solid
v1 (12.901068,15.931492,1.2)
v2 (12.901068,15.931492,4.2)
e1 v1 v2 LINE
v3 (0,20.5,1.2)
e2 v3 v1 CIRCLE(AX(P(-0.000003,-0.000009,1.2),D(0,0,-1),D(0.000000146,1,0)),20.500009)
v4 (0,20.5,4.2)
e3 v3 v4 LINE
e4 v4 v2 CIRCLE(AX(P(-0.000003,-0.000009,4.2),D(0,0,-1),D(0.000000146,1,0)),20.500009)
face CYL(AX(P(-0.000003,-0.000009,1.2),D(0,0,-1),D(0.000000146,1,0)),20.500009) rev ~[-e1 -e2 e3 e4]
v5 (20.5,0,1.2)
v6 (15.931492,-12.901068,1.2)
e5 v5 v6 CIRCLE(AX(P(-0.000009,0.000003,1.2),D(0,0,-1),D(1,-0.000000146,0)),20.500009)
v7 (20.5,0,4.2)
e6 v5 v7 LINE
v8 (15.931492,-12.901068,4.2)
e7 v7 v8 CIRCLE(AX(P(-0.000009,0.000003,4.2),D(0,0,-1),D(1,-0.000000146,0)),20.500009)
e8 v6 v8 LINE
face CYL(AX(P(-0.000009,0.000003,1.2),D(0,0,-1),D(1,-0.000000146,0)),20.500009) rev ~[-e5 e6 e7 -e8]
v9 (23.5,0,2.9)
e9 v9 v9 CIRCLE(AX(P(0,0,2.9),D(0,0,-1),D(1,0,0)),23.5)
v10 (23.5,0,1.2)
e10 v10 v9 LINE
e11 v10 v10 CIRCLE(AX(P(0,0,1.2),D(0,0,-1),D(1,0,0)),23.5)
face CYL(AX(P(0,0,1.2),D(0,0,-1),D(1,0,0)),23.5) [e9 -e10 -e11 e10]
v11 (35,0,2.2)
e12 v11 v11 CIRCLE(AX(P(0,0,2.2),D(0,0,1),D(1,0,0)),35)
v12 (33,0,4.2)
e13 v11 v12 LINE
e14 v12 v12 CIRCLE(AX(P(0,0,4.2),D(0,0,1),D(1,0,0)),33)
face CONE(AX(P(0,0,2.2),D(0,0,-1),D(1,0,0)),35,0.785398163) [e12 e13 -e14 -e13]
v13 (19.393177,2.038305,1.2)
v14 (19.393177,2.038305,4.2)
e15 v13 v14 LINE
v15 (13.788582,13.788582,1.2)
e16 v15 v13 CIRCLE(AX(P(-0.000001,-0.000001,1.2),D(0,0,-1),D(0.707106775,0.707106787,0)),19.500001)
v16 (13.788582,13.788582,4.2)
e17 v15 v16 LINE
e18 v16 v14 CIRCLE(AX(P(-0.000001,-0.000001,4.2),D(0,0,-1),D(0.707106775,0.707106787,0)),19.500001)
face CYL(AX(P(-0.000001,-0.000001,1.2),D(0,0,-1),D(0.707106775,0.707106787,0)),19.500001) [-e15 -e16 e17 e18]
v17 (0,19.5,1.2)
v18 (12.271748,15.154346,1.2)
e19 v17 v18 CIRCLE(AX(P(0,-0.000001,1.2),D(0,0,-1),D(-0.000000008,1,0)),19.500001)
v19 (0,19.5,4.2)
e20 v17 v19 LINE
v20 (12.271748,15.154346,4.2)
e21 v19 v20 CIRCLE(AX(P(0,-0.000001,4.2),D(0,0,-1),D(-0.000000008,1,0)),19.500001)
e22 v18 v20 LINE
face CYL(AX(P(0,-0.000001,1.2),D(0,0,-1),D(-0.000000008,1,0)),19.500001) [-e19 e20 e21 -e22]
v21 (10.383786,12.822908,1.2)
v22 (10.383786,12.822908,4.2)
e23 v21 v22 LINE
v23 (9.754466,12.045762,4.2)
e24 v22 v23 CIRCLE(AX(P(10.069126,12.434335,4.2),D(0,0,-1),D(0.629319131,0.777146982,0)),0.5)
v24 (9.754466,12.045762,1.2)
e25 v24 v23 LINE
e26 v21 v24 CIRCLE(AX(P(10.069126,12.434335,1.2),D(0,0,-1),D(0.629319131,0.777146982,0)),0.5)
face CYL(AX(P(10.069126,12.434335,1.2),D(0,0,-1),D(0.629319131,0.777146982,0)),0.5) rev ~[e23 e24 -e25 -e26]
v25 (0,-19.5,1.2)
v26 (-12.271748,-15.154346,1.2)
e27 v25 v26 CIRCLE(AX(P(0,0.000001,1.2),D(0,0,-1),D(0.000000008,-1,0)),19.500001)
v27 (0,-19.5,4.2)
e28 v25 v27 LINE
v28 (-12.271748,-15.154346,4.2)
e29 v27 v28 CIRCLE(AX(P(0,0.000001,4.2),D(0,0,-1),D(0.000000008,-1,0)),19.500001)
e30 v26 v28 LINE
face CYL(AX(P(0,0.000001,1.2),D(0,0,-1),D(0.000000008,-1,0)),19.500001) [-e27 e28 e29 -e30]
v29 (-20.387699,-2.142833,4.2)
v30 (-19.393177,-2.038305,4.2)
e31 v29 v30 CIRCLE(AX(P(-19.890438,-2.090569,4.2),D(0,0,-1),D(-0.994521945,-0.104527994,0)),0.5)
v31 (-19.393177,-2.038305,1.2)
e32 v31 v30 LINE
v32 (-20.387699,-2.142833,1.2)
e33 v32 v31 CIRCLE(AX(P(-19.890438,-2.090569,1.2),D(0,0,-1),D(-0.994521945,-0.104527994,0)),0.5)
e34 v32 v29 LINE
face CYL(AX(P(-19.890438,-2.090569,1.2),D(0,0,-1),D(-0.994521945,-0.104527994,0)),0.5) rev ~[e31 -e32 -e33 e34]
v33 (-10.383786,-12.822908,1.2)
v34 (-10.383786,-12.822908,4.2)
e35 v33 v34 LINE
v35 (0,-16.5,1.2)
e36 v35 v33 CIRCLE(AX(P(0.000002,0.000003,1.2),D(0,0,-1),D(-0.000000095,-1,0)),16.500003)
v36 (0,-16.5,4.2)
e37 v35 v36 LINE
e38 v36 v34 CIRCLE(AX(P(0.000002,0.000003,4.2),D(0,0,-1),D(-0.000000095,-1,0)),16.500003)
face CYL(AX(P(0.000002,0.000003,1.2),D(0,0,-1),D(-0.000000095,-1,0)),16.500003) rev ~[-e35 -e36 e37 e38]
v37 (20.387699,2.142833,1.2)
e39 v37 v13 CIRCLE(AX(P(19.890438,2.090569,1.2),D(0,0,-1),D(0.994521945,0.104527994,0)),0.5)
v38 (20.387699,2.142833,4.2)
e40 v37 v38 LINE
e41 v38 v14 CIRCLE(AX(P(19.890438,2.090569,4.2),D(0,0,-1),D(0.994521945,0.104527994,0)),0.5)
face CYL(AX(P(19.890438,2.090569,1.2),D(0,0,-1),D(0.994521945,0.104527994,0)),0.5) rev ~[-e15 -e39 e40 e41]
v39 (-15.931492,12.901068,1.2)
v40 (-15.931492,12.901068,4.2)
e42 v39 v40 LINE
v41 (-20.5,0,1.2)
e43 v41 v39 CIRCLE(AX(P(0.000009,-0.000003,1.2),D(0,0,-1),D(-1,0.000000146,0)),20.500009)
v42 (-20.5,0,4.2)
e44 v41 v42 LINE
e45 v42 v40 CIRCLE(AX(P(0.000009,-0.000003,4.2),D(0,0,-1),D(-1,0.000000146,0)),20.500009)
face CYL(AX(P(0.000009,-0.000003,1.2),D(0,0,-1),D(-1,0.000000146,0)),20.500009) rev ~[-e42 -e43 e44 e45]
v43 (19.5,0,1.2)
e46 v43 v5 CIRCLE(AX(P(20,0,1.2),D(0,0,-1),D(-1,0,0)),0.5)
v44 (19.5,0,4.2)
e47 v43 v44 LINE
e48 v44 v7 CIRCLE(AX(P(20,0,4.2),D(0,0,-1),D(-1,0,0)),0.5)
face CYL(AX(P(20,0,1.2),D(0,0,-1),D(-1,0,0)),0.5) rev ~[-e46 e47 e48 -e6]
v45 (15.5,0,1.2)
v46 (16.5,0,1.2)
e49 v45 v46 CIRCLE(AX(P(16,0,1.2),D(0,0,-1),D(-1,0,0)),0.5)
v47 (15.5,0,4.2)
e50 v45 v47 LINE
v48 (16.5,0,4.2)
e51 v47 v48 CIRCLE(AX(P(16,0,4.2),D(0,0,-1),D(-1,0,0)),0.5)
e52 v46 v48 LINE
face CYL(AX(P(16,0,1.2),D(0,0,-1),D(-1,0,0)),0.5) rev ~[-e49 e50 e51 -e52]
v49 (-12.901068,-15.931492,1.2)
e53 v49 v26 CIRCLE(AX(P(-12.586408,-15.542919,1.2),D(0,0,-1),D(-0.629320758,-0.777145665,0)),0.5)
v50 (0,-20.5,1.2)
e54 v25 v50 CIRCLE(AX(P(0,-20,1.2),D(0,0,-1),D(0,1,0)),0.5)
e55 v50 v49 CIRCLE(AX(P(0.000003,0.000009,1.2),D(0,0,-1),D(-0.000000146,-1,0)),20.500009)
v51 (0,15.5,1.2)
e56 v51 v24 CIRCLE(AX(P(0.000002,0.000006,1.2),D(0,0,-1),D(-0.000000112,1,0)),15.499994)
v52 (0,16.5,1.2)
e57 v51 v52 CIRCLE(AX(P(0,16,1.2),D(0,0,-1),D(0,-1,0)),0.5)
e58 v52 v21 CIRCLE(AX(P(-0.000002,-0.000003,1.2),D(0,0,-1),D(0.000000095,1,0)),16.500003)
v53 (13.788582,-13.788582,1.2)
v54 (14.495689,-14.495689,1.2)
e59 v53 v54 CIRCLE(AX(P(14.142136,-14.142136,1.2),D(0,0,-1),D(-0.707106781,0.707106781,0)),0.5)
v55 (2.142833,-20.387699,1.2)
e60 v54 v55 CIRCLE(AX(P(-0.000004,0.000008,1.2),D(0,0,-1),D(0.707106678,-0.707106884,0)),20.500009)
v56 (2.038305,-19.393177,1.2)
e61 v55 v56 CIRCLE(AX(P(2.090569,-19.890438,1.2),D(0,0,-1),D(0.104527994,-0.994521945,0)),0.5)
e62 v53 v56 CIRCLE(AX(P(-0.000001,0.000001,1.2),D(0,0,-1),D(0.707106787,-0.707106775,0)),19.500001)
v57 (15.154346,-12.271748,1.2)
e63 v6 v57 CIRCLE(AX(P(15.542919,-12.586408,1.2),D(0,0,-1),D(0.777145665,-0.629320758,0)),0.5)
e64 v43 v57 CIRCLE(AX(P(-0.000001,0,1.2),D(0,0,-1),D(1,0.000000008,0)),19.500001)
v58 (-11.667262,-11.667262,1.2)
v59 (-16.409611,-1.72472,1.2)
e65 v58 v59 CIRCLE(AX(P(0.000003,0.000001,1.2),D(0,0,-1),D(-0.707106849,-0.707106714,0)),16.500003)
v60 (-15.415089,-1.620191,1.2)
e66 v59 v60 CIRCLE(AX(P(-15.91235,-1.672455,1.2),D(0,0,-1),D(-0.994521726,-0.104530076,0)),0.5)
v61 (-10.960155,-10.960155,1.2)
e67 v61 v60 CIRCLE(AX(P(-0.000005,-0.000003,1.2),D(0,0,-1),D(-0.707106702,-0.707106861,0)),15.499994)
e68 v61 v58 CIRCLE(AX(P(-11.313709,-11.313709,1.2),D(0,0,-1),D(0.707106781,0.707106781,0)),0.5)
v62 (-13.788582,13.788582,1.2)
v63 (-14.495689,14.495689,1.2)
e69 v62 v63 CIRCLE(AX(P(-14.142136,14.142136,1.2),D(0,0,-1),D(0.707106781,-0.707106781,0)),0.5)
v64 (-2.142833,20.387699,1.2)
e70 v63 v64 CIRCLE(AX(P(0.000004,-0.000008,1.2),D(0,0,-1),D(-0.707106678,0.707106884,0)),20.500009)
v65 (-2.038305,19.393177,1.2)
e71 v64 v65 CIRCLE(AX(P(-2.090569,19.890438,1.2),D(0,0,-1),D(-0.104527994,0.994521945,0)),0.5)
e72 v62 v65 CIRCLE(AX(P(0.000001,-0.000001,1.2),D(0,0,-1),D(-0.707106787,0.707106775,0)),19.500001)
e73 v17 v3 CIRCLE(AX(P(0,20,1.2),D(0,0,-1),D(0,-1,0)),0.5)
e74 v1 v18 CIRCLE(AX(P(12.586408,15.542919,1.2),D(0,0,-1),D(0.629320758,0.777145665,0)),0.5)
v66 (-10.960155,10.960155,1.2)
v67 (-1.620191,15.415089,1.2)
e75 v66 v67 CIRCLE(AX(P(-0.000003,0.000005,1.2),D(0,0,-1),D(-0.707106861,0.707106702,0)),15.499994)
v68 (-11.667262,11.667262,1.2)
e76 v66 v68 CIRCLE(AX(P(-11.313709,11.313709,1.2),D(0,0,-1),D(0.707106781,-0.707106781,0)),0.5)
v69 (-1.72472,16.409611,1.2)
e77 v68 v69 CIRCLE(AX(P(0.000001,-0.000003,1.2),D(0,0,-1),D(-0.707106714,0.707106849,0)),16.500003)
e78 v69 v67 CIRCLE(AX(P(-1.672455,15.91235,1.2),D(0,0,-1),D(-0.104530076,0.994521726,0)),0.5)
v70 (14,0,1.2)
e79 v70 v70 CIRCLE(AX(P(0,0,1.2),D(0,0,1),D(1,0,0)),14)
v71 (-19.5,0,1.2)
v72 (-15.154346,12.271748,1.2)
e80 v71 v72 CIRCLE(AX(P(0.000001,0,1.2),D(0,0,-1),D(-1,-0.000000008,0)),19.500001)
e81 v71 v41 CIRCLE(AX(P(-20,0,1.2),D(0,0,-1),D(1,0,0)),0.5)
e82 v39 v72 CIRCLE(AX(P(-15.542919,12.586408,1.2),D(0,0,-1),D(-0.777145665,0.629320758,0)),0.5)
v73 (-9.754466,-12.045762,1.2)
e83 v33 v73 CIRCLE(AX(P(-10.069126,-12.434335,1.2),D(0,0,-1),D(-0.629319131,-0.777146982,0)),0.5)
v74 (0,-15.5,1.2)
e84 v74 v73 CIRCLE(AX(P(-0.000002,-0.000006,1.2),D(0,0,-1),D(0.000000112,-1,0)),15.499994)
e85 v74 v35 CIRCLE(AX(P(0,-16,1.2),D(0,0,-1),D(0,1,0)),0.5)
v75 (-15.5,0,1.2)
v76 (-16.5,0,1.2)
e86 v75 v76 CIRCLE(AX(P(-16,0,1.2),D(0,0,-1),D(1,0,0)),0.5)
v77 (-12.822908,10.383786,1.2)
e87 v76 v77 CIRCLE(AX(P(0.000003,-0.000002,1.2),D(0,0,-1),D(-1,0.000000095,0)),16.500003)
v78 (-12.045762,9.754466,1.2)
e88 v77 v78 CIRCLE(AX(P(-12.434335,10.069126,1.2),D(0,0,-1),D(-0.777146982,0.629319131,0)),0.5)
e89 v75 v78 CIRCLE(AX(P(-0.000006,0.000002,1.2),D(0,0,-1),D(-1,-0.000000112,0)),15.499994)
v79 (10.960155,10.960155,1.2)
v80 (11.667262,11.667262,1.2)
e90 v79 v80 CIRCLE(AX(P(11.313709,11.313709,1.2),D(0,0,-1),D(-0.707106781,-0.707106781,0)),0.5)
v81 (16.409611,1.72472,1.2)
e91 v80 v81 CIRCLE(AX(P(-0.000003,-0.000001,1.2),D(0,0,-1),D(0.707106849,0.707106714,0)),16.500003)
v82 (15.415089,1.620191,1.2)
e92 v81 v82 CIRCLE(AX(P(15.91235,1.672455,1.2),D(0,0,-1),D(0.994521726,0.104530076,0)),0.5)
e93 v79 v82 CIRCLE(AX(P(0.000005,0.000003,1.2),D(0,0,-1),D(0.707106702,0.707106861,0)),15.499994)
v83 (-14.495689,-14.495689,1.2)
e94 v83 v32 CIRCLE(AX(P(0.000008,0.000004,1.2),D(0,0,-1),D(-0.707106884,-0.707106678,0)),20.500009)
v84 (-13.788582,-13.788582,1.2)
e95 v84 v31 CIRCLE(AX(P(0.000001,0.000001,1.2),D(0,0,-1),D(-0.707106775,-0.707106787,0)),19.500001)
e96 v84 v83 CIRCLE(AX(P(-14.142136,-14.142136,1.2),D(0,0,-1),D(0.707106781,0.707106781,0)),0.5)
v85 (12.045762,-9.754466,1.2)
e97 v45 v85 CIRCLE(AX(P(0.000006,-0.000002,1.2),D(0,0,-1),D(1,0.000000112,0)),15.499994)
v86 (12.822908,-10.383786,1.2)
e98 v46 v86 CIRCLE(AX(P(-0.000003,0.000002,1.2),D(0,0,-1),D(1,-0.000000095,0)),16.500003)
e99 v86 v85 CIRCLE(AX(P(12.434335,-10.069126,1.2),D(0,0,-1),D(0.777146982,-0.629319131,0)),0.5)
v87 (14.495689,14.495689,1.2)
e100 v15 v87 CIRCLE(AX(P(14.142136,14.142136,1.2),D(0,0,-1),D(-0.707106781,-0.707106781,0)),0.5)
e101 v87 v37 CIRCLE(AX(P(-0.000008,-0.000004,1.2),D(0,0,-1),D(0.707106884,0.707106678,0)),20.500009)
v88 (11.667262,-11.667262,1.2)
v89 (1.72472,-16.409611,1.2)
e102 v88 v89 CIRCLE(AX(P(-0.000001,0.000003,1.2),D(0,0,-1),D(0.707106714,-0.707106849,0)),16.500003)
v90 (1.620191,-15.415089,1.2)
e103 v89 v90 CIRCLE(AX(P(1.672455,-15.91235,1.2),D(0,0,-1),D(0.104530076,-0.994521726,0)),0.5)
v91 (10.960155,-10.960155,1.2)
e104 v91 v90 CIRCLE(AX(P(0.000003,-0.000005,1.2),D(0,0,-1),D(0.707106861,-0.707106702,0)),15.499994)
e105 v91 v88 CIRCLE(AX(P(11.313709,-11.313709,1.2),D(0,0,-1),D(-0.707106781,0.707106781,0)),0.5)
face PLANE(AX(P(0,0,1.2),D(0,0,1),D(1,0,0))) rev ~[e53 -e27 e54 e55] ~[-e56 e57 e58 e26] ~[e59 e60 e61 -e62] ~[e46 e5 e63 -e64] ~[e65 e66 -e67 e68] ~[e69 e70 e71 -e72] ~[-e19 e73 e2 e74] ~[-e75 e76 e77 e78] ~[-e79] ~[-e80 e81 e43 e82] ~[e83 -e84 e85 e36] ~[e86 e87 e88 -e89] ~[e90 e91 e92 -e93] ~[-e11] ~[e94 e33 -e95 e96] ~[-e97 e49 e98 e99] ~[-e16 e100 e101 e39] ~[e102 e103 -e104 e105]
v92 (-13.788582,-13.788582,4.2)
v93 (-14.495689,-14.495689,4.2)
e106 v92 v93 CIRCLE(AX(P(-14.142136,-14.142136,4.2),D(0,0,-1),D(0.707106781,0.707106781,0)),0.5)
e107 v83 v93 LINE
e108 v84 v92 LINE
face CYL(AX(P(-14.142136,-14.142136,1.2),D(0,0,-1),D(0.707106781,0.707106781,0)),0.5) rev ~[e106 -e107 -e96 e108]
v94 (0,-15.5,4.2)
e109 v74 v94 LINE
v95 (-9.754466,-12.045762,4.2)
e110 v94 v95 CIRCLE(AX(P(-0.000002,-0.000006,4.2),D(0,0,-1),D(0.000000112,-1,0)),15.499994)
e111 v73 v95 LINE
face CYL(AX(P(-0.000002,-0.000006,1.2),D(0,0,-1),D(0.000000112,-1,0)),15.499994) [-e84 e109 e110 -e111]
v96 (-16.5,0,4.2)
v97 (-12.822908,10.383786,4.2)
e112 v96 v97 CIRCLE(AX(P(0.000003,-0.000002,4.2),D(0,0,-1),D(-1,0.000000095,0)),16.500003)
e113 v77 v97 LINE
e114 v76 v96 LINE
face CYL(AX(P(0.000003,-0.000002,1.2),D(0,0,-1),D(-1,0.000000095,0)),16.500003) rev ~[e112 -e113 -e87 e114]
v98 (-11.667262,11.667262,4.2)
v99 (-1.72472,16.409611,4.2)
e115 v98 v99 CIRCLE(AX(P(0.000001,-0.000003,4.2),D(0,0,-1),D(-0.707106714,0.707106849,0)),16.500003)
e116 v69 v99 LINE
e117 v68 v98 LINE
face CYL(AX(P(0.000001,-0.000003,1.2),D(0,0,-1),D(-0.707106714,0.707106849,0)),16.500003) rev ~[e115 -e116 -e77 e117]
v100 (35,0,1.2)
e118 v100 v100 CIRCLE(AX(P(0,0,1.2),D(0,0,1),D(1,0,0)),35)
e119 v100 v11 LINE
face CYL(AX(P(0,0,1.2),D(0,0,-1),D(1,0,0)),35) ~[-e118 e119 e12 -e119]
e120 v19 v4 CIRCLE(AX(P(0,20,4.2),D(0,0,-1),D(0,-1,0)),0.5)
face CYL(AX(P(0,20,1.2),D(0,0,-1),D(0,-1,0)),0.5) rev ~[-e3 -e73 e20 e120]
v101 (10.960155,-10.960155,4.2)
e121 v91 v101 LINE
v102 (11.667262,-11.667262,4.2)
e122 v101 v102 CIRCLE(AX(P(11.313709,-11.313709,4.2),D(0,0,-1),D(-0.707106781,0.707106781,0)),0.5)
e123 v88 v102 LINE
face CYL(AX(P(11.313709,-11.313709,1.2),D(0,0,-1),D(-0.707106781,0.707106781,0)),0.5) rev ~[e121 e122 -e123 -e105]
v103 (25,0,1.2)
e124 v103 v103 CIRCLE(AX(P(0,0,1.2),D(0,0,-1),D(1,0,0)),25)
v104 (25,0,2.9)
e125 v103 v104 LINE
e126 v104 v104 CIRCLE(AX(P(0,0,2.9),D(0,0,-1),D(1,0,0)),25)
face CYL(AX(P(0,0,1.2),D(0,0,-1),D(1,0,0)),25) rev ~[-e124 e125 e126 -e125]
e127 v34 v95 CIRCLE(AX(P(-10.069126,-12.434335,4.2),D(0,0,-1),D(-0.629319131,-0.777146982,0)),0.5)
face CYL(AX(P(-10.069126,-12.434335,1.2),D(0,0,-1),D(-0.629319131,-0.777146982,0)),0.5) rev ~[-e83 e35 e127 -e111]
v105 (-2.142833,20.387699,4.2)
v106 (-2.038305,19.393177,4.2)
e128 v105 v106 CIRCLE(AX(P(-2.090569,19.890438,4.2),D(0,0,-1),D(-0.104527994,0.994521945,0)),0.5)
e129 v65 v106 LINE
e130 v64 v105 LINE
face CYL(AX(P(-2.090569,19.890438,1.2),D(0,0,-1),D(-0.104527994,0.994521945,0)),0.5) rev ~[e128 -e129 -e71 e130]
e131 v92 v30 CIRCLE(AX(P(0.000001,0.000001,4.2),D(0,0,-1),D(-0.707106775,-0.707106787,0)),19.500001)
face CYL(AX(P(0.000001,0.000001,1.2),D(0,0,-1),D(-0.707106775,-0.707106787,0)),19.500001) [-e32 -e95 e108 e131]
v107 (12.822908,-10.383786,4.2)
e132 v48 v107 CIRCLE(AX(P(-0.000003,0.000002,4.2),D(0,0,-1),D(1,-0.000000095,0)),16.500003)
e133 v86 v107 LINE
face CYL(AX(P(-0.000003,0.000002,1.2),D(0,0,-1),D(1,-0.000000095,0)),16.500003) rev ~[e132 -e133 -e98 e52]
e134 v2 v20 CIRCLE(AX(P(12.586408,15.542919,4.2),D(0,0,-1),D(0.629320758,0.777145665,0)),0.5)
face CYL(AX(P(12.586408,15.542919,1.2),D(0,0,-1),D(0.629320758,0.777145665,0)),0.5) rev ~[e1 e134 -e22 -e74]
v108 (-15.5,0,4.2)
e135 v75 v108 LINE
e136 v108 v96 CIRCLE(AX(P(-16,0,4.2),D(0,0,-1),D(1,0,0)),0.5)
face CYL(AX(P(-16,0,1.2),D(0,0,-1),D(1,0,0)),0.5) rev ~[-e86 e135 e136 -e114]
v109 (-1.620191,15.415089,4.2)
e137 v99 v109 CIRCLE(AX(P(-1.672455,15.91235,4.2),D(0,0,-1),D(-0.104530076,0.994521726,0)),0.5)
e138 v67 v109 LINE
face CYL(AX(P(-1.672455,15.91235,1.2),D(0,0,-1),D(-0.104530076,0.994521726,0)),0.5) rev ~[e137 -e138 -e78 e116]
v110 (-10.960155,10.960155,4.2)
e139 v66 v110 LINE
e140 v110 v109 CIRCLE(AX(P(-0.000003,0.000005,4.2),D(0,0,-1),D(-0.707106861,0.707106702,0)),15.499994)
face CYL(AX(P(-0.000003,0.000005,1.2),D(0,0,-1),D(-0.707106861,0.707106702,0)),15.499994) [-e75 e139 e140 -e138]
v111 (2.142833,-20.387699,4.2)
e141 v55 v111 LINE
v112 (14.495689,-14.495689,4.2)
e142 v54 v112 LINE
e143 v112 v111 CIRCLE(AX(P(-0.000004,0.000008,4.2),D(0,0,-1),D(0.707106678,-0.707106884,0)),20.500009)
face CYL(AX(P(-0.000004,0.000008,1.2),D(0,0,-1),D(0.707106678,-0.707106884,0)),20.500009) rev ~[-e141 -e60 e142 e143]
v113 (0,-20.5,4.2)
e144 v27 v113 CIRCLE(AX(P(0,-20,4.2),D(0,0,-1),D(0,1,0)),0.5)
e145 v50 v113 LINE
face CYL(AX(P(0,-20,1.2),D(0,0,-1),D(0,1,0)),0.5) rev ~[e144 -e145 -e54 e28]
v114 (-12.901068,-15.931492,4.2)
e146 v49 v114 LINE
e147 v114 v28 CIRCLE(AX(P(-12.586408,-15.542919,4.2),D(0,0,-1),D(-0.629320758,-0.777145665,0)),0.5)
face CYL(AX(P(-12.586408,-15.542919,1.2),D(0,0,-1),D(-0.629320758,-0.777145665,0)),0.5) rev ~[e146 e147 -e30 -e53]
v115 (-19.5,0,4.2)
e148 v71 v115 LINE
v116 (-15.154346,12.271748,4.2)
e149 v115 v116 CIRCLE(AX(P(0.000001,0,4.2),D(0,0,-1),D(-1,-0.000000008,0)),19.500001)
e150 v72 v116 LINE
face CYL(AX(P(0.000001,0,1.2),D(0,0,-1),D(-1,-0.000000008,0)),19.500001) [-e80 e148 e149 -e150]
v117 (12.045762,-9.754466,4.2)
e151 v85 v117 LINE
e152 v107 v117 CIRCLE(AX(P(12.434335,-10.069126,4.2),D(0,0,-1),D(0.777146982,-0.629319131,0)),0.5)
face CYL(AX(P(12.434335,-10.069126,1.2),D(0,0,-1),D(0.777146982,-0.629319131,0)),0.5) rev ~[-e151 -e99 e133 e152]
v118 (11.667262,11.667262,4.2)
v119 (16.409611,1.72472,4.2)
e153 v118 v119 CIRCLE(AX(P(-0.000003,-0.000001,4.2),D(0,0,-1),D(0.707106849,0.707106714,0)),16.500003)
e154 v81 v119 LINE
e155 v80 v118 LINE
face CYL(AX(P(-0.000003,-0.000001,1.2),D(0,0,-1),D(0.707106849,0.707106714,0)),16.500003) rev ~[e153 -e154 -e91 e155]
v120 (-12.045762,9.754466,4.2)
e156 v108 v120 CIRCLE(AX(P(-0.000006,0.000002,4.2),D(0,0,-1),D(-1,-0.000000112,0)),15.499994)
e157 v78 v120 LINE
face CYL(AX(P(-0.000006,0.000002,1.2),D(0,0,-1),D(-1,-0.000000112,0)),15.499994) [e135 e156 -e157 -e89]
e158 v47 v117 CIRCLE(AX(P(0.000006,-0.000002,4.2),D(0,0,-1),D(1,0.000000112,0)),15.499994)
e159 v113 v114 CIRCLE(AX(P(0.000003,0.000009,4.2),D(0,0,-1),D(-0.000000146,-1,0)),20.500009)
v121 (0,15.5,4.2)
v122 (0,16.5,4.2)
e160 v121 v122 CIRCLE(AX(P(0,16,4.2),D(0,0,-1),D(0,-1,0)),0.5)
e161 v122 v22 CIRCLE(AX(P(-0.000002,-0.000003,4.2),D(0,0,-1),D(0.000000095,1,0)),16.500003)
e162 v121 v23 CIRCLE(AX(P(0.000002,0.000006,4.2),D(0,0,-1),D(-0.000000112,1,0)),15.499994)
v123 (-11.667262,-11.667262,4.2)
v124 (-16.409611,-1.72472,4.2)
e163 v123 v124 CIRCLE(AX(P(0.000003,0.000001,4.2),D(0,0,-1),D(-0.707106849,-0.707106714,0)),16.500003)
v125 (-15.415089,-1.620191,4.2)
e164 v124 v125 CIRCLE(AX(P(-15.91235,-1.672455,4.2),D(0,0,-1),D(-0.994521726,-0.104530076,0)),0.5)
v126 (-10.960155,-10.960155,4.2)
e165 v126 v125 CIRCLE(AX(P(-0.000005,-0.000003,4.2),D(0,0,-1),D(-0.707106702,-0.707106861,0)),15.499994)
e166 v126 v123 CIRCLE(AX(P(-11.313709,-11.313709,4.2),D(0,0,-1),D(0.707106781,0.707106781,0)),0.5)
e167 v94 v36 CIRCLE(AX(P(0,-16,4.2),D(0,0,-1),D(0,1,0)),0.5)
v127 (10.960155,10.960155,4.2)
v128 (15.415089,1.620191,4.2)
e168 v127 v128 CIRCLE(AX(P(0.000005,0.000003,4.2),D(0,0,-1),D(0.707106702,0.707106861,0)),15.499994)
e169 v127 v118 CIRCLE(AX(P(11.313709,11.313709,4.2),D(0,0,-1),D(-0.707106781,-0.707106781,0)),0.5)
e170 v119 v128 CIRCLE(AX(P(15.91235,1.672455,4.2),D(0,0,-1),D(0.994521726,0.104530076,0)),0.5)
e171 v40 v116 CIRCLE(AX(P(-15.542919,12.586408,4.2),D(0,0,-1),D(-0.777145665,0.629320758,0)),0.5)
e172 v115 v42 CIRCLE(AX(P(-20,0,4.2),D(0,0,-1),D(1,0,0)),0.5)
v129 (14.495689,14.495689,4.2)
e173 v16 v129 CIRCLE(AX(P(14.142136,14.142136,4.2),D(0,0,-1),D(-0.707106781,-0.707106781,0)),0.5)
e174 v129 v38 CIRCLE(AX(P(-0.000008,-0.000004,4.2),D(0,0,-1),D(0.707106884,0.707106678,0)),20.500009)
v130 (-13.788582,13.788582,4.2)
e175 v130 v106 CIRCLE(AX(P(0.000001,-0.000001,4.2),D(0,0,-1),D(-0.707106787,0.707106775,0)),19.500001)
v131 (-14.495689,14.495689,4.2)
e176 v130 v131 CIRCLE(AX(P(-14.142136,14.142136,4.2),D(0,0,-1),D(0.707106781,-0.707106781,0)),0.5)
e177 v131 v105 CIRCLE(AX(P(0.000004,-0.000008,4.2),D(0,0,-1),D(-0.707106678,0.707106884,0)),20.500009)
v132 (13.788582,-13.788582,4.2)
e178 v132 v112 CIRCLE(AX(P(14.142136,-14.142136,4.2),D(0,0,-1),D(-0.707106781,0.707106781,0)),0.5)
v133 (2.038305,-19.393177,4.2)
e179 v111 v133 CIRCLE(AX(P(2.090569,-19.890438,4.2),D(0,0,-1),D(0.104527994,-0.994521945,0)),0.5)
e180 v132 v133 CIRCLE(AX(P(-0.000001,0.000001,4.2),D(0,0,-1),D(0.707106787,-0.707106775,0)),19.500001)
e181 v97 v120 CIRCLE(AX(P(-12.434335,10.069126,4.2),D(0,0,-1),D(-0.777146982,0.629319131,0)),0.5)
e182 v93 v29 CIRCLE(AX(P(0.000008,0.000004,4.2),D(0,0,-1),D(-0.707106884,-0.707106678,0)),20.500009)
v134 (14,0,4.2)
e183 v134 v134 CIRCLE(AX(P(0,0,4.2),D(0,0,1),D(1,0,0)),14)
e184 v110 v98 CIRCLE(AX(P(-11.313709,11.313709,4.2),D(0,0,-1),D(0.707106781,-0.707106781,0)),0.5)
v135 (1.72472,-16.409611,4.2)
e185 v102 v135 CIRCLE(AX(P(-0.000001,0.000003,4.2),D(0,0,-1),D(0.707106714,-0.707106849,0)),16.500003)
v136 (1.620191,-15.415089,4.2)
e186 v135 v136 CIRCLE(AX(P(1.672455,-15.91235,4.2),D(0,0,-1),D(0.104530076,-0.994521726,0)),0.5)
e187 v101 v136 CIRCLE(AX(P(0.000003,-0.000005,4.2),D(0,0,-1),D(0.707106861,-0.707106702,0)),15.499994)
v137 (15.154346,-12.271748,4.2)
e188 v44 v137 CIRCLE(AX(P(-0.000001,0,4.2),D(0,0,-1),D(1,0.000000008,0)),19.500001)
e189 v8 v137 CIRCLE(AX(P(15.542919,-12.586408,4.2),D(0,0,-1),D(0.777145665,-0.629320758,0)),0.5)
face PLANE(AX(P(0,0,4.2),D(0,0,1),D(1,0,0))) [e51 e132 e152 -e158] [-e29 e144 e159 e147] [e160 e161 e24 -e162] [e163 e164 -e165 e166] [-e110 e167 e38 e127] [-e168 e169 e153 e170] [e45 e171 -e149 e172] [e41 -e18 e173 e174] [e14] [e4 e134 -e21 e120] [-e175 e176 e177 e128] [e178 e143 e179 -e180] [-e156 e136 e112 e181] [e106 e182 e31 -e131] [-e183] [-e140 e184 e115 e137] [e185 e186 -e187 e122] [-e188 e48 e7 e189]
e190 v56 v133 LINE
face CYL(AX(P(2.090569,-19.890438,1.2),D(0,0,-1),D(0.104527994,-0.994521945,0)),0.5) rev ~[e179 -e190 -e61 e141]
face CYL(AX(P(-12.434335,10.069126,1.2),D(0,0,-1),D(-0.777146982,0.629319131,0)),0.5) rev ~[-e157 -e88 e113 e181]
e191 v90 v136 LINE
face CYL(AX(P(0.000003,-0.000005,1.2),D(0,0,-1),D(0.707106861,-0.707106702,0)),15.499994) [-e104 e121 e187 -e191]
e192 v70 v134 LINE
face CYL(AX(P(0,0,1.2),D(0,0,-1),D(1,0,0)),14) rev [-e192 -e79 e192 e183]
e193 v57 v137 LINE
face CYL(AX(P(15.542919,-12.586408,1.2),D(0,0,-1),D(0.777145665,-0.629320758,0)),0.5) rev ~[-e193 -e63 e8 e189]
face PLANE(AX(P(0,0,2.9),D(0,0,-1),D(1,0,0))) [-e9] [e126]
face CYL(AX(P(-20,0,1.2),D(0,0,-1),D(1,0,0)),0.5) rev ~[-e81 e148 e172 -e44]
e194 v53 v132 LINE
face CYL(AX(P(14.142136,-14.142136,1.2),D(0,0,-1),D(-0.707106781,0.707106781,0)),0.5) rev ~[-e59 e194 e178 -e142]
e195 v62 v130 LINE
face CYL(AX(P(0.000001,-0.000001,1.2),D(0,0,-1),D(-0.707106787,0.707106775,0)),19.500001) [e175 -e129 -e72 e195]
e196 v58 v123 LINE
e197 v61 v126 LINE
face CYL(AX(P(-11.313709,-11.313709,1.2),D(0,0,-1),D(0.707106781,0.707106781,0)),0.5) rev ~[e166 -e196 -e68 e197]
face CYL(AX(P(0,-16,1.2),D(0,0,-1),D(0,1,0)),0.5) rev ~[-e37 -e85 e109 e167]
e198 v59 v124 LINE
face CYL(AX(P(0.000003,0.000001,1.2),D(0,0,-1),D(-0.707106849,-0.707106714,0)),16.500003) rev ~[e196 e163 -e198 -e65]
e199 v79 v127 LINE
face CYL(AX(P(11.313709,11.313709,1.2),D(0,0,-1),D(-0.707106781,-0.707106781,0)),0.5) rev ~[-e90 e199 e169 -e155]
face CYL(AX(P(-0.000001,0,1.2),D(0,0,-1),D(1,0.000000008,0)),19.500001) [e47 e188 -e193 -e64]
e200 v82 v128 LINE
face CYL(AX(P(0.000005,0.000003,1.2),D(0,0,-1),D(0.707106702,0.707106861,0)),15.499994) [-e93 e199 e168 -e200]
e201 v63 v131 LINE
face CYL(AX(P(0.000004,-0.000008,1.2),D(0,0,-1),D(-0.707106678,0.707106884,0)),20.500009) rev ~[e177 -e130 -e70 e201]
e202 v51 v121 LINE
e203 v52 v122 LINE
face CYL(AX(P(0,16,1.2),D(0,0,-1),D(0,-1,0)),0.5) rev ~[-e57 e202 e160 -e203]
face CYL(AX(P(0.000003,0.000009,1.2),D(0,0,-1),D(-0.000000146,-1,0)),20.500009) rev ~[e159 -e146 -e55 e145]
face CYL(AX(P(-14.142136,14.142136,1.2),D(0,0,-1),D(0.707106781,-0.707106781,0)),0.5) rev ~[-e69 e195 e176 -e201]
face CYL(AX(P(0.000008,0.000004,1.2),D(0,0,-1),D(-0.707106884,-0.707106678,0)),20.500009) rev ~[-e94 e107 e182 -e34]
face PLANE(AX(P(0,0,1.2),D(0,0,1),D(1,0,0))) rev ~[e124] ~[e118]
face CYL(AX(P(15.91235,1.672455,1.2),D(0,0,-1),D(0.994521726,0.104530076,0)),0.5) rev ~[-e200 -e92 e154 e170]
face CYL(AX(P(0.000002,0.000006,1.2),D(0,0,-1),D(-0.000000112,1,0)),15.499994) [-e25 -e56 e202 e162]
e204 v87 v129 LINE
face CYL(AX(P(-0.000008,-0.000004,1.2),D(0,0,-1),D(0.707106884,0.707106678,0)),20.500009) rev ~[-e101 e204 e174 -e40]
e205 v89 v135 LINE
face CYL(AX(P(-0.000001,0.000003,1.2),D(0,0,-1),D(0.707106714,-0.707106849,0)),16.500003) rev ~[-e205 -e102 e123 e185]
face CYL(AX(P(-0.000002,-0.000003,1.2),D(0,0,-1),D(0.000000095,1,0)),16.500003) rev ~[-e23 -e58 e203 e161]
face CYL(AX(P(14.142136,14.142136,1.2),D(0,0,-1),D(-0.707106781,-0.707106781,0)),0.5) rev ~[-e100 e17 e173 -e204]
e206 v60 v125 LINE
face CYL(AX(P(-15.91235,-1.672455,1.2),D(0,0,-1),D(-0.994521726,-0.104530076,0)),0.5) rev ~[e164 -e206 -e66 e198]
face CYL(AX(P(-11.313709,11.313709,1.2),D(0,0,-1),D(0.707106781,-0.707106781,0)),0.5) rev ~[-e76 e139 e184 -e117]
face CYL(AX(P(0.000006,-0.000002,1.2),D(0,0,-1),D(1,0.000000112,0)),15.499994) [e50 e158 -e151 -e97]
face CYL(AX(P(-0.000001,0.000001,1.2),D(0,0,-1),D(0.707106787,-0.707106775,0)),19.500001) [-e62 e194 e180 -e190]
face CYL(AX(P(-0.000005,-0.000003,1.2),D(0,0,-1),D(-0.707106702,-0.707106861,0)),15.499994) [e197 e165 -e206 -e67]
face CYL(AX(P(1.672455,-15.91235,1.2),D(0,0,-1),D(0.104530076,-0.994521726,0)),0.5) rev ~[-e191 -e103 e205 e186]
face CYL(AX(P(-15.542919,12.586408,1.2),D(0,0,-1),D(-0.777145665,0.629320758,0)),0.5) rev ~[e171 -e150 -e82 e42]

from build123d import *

# Parameters (mm, degrees)
SKETCH003_R           = 35
SKETCH003_R_2         = 14
PAD002_DEPTH          = 3
SKETCH004_R           = 25
SKETCH004_R_2         = 23.5
POCKET001_DEPTH       = 1.7
POCKET002_DEPTH       = 201.081792
POLARPATTERN001_COUNT = 8
CHAMFER_SIZE          = 2


with BuildPart() as part:
    # Sketch003 → Pad002 (new body)
    with BuildSketch(Plane.XY):
        Circle(SKETCH003_R)
        Circle(SKETCH003_R_2, mode=Mode.SUBTRACT)
    extrude(amount=PAD002_DEPTH)

    # Sketch004 (on Face3 of Pad002) → Pocket001 (cut)
    with BuildSketch(Plane(origin=(0, 0, 0), x_dir=(1, 0, 0), z_dir=(0, 0, -1))):
        Circle(SKETCH004_R)
        Circle(SKETCH004_R_2, mode=Mode.SUBTRACT)
    extrude(amount=-POCKET001_DEPTH, mode=Mode.SUBTRACT)

    # Sketch005 (on Face2 of Pocket001) → Pocket002 (cut, through all)
    with BuildSketch(Plane(origin=(0, 0, 0), x_dir=(1, 0, 0), z_dir=(0, 0, -1))):
        with BuildLine():
            ThreePointArc((10.960155, 10.960155), (6.672922, 13.990072), (1.620191, 15.415089))
            ThreePointArc((1.72472, 16.409611), (1.175194, 15.964615), (1.620191, 15.415089))
            ThreePointArc((11.667262, 11.667262), (7.103433, 14.892657), (1.72472, 16.409611))
            ThreePointArc((10.960155, 10.960155), (11.667262, 10.960155), (11.667262, 11.667262))
        make_face()
        with BuildLine():
            ThreePointArc((13.788582, 13.788582), (8.394966, 17.600413), (2.038305, 19.393177))
            ThreePointArc((2.142833, 20.387699), (1.593308, 19.942702), (2.038305, 19.393177))
            ThreePointArc((14.495689, 14.495689), (8.825477, 18.502998), (2.142833, 20.387699))
            ThreePointArc((13.788582, 13.788582), (14.495689, 13.788582), (14.495689, 14.495689))
        make_face()
    pocket002 = extrude(amount=-POCKET002_DEPTH, mode=Mode.SUBTRACT)

    # PolarPattern001: Pocket002 ×8 about axis
    polarpattern001_axis = Axis((0, 0, 0), (0, 0, -1))
    for i in range(1, POLARPATTERN001_COUNT):
        add(pocket002.rotate(polarpattern001_axis, i * 360 / POLARPATTERN001_COUNT), mode=Mode.SUBTRACT)

    # Chamfer
    chamfer_edges = [part.edges().sort_by_distance(p)[0] for p in [
        (-35, 0, 3),
    ]]
    chamfer(chamfer_edges, length=CHAMFER_SIZE)


with BuildPart() as part_1:
    # Body001 placement: moved
    add(part.part.moved(Location((0, 0, 1.2))))


solid = part_1.part
